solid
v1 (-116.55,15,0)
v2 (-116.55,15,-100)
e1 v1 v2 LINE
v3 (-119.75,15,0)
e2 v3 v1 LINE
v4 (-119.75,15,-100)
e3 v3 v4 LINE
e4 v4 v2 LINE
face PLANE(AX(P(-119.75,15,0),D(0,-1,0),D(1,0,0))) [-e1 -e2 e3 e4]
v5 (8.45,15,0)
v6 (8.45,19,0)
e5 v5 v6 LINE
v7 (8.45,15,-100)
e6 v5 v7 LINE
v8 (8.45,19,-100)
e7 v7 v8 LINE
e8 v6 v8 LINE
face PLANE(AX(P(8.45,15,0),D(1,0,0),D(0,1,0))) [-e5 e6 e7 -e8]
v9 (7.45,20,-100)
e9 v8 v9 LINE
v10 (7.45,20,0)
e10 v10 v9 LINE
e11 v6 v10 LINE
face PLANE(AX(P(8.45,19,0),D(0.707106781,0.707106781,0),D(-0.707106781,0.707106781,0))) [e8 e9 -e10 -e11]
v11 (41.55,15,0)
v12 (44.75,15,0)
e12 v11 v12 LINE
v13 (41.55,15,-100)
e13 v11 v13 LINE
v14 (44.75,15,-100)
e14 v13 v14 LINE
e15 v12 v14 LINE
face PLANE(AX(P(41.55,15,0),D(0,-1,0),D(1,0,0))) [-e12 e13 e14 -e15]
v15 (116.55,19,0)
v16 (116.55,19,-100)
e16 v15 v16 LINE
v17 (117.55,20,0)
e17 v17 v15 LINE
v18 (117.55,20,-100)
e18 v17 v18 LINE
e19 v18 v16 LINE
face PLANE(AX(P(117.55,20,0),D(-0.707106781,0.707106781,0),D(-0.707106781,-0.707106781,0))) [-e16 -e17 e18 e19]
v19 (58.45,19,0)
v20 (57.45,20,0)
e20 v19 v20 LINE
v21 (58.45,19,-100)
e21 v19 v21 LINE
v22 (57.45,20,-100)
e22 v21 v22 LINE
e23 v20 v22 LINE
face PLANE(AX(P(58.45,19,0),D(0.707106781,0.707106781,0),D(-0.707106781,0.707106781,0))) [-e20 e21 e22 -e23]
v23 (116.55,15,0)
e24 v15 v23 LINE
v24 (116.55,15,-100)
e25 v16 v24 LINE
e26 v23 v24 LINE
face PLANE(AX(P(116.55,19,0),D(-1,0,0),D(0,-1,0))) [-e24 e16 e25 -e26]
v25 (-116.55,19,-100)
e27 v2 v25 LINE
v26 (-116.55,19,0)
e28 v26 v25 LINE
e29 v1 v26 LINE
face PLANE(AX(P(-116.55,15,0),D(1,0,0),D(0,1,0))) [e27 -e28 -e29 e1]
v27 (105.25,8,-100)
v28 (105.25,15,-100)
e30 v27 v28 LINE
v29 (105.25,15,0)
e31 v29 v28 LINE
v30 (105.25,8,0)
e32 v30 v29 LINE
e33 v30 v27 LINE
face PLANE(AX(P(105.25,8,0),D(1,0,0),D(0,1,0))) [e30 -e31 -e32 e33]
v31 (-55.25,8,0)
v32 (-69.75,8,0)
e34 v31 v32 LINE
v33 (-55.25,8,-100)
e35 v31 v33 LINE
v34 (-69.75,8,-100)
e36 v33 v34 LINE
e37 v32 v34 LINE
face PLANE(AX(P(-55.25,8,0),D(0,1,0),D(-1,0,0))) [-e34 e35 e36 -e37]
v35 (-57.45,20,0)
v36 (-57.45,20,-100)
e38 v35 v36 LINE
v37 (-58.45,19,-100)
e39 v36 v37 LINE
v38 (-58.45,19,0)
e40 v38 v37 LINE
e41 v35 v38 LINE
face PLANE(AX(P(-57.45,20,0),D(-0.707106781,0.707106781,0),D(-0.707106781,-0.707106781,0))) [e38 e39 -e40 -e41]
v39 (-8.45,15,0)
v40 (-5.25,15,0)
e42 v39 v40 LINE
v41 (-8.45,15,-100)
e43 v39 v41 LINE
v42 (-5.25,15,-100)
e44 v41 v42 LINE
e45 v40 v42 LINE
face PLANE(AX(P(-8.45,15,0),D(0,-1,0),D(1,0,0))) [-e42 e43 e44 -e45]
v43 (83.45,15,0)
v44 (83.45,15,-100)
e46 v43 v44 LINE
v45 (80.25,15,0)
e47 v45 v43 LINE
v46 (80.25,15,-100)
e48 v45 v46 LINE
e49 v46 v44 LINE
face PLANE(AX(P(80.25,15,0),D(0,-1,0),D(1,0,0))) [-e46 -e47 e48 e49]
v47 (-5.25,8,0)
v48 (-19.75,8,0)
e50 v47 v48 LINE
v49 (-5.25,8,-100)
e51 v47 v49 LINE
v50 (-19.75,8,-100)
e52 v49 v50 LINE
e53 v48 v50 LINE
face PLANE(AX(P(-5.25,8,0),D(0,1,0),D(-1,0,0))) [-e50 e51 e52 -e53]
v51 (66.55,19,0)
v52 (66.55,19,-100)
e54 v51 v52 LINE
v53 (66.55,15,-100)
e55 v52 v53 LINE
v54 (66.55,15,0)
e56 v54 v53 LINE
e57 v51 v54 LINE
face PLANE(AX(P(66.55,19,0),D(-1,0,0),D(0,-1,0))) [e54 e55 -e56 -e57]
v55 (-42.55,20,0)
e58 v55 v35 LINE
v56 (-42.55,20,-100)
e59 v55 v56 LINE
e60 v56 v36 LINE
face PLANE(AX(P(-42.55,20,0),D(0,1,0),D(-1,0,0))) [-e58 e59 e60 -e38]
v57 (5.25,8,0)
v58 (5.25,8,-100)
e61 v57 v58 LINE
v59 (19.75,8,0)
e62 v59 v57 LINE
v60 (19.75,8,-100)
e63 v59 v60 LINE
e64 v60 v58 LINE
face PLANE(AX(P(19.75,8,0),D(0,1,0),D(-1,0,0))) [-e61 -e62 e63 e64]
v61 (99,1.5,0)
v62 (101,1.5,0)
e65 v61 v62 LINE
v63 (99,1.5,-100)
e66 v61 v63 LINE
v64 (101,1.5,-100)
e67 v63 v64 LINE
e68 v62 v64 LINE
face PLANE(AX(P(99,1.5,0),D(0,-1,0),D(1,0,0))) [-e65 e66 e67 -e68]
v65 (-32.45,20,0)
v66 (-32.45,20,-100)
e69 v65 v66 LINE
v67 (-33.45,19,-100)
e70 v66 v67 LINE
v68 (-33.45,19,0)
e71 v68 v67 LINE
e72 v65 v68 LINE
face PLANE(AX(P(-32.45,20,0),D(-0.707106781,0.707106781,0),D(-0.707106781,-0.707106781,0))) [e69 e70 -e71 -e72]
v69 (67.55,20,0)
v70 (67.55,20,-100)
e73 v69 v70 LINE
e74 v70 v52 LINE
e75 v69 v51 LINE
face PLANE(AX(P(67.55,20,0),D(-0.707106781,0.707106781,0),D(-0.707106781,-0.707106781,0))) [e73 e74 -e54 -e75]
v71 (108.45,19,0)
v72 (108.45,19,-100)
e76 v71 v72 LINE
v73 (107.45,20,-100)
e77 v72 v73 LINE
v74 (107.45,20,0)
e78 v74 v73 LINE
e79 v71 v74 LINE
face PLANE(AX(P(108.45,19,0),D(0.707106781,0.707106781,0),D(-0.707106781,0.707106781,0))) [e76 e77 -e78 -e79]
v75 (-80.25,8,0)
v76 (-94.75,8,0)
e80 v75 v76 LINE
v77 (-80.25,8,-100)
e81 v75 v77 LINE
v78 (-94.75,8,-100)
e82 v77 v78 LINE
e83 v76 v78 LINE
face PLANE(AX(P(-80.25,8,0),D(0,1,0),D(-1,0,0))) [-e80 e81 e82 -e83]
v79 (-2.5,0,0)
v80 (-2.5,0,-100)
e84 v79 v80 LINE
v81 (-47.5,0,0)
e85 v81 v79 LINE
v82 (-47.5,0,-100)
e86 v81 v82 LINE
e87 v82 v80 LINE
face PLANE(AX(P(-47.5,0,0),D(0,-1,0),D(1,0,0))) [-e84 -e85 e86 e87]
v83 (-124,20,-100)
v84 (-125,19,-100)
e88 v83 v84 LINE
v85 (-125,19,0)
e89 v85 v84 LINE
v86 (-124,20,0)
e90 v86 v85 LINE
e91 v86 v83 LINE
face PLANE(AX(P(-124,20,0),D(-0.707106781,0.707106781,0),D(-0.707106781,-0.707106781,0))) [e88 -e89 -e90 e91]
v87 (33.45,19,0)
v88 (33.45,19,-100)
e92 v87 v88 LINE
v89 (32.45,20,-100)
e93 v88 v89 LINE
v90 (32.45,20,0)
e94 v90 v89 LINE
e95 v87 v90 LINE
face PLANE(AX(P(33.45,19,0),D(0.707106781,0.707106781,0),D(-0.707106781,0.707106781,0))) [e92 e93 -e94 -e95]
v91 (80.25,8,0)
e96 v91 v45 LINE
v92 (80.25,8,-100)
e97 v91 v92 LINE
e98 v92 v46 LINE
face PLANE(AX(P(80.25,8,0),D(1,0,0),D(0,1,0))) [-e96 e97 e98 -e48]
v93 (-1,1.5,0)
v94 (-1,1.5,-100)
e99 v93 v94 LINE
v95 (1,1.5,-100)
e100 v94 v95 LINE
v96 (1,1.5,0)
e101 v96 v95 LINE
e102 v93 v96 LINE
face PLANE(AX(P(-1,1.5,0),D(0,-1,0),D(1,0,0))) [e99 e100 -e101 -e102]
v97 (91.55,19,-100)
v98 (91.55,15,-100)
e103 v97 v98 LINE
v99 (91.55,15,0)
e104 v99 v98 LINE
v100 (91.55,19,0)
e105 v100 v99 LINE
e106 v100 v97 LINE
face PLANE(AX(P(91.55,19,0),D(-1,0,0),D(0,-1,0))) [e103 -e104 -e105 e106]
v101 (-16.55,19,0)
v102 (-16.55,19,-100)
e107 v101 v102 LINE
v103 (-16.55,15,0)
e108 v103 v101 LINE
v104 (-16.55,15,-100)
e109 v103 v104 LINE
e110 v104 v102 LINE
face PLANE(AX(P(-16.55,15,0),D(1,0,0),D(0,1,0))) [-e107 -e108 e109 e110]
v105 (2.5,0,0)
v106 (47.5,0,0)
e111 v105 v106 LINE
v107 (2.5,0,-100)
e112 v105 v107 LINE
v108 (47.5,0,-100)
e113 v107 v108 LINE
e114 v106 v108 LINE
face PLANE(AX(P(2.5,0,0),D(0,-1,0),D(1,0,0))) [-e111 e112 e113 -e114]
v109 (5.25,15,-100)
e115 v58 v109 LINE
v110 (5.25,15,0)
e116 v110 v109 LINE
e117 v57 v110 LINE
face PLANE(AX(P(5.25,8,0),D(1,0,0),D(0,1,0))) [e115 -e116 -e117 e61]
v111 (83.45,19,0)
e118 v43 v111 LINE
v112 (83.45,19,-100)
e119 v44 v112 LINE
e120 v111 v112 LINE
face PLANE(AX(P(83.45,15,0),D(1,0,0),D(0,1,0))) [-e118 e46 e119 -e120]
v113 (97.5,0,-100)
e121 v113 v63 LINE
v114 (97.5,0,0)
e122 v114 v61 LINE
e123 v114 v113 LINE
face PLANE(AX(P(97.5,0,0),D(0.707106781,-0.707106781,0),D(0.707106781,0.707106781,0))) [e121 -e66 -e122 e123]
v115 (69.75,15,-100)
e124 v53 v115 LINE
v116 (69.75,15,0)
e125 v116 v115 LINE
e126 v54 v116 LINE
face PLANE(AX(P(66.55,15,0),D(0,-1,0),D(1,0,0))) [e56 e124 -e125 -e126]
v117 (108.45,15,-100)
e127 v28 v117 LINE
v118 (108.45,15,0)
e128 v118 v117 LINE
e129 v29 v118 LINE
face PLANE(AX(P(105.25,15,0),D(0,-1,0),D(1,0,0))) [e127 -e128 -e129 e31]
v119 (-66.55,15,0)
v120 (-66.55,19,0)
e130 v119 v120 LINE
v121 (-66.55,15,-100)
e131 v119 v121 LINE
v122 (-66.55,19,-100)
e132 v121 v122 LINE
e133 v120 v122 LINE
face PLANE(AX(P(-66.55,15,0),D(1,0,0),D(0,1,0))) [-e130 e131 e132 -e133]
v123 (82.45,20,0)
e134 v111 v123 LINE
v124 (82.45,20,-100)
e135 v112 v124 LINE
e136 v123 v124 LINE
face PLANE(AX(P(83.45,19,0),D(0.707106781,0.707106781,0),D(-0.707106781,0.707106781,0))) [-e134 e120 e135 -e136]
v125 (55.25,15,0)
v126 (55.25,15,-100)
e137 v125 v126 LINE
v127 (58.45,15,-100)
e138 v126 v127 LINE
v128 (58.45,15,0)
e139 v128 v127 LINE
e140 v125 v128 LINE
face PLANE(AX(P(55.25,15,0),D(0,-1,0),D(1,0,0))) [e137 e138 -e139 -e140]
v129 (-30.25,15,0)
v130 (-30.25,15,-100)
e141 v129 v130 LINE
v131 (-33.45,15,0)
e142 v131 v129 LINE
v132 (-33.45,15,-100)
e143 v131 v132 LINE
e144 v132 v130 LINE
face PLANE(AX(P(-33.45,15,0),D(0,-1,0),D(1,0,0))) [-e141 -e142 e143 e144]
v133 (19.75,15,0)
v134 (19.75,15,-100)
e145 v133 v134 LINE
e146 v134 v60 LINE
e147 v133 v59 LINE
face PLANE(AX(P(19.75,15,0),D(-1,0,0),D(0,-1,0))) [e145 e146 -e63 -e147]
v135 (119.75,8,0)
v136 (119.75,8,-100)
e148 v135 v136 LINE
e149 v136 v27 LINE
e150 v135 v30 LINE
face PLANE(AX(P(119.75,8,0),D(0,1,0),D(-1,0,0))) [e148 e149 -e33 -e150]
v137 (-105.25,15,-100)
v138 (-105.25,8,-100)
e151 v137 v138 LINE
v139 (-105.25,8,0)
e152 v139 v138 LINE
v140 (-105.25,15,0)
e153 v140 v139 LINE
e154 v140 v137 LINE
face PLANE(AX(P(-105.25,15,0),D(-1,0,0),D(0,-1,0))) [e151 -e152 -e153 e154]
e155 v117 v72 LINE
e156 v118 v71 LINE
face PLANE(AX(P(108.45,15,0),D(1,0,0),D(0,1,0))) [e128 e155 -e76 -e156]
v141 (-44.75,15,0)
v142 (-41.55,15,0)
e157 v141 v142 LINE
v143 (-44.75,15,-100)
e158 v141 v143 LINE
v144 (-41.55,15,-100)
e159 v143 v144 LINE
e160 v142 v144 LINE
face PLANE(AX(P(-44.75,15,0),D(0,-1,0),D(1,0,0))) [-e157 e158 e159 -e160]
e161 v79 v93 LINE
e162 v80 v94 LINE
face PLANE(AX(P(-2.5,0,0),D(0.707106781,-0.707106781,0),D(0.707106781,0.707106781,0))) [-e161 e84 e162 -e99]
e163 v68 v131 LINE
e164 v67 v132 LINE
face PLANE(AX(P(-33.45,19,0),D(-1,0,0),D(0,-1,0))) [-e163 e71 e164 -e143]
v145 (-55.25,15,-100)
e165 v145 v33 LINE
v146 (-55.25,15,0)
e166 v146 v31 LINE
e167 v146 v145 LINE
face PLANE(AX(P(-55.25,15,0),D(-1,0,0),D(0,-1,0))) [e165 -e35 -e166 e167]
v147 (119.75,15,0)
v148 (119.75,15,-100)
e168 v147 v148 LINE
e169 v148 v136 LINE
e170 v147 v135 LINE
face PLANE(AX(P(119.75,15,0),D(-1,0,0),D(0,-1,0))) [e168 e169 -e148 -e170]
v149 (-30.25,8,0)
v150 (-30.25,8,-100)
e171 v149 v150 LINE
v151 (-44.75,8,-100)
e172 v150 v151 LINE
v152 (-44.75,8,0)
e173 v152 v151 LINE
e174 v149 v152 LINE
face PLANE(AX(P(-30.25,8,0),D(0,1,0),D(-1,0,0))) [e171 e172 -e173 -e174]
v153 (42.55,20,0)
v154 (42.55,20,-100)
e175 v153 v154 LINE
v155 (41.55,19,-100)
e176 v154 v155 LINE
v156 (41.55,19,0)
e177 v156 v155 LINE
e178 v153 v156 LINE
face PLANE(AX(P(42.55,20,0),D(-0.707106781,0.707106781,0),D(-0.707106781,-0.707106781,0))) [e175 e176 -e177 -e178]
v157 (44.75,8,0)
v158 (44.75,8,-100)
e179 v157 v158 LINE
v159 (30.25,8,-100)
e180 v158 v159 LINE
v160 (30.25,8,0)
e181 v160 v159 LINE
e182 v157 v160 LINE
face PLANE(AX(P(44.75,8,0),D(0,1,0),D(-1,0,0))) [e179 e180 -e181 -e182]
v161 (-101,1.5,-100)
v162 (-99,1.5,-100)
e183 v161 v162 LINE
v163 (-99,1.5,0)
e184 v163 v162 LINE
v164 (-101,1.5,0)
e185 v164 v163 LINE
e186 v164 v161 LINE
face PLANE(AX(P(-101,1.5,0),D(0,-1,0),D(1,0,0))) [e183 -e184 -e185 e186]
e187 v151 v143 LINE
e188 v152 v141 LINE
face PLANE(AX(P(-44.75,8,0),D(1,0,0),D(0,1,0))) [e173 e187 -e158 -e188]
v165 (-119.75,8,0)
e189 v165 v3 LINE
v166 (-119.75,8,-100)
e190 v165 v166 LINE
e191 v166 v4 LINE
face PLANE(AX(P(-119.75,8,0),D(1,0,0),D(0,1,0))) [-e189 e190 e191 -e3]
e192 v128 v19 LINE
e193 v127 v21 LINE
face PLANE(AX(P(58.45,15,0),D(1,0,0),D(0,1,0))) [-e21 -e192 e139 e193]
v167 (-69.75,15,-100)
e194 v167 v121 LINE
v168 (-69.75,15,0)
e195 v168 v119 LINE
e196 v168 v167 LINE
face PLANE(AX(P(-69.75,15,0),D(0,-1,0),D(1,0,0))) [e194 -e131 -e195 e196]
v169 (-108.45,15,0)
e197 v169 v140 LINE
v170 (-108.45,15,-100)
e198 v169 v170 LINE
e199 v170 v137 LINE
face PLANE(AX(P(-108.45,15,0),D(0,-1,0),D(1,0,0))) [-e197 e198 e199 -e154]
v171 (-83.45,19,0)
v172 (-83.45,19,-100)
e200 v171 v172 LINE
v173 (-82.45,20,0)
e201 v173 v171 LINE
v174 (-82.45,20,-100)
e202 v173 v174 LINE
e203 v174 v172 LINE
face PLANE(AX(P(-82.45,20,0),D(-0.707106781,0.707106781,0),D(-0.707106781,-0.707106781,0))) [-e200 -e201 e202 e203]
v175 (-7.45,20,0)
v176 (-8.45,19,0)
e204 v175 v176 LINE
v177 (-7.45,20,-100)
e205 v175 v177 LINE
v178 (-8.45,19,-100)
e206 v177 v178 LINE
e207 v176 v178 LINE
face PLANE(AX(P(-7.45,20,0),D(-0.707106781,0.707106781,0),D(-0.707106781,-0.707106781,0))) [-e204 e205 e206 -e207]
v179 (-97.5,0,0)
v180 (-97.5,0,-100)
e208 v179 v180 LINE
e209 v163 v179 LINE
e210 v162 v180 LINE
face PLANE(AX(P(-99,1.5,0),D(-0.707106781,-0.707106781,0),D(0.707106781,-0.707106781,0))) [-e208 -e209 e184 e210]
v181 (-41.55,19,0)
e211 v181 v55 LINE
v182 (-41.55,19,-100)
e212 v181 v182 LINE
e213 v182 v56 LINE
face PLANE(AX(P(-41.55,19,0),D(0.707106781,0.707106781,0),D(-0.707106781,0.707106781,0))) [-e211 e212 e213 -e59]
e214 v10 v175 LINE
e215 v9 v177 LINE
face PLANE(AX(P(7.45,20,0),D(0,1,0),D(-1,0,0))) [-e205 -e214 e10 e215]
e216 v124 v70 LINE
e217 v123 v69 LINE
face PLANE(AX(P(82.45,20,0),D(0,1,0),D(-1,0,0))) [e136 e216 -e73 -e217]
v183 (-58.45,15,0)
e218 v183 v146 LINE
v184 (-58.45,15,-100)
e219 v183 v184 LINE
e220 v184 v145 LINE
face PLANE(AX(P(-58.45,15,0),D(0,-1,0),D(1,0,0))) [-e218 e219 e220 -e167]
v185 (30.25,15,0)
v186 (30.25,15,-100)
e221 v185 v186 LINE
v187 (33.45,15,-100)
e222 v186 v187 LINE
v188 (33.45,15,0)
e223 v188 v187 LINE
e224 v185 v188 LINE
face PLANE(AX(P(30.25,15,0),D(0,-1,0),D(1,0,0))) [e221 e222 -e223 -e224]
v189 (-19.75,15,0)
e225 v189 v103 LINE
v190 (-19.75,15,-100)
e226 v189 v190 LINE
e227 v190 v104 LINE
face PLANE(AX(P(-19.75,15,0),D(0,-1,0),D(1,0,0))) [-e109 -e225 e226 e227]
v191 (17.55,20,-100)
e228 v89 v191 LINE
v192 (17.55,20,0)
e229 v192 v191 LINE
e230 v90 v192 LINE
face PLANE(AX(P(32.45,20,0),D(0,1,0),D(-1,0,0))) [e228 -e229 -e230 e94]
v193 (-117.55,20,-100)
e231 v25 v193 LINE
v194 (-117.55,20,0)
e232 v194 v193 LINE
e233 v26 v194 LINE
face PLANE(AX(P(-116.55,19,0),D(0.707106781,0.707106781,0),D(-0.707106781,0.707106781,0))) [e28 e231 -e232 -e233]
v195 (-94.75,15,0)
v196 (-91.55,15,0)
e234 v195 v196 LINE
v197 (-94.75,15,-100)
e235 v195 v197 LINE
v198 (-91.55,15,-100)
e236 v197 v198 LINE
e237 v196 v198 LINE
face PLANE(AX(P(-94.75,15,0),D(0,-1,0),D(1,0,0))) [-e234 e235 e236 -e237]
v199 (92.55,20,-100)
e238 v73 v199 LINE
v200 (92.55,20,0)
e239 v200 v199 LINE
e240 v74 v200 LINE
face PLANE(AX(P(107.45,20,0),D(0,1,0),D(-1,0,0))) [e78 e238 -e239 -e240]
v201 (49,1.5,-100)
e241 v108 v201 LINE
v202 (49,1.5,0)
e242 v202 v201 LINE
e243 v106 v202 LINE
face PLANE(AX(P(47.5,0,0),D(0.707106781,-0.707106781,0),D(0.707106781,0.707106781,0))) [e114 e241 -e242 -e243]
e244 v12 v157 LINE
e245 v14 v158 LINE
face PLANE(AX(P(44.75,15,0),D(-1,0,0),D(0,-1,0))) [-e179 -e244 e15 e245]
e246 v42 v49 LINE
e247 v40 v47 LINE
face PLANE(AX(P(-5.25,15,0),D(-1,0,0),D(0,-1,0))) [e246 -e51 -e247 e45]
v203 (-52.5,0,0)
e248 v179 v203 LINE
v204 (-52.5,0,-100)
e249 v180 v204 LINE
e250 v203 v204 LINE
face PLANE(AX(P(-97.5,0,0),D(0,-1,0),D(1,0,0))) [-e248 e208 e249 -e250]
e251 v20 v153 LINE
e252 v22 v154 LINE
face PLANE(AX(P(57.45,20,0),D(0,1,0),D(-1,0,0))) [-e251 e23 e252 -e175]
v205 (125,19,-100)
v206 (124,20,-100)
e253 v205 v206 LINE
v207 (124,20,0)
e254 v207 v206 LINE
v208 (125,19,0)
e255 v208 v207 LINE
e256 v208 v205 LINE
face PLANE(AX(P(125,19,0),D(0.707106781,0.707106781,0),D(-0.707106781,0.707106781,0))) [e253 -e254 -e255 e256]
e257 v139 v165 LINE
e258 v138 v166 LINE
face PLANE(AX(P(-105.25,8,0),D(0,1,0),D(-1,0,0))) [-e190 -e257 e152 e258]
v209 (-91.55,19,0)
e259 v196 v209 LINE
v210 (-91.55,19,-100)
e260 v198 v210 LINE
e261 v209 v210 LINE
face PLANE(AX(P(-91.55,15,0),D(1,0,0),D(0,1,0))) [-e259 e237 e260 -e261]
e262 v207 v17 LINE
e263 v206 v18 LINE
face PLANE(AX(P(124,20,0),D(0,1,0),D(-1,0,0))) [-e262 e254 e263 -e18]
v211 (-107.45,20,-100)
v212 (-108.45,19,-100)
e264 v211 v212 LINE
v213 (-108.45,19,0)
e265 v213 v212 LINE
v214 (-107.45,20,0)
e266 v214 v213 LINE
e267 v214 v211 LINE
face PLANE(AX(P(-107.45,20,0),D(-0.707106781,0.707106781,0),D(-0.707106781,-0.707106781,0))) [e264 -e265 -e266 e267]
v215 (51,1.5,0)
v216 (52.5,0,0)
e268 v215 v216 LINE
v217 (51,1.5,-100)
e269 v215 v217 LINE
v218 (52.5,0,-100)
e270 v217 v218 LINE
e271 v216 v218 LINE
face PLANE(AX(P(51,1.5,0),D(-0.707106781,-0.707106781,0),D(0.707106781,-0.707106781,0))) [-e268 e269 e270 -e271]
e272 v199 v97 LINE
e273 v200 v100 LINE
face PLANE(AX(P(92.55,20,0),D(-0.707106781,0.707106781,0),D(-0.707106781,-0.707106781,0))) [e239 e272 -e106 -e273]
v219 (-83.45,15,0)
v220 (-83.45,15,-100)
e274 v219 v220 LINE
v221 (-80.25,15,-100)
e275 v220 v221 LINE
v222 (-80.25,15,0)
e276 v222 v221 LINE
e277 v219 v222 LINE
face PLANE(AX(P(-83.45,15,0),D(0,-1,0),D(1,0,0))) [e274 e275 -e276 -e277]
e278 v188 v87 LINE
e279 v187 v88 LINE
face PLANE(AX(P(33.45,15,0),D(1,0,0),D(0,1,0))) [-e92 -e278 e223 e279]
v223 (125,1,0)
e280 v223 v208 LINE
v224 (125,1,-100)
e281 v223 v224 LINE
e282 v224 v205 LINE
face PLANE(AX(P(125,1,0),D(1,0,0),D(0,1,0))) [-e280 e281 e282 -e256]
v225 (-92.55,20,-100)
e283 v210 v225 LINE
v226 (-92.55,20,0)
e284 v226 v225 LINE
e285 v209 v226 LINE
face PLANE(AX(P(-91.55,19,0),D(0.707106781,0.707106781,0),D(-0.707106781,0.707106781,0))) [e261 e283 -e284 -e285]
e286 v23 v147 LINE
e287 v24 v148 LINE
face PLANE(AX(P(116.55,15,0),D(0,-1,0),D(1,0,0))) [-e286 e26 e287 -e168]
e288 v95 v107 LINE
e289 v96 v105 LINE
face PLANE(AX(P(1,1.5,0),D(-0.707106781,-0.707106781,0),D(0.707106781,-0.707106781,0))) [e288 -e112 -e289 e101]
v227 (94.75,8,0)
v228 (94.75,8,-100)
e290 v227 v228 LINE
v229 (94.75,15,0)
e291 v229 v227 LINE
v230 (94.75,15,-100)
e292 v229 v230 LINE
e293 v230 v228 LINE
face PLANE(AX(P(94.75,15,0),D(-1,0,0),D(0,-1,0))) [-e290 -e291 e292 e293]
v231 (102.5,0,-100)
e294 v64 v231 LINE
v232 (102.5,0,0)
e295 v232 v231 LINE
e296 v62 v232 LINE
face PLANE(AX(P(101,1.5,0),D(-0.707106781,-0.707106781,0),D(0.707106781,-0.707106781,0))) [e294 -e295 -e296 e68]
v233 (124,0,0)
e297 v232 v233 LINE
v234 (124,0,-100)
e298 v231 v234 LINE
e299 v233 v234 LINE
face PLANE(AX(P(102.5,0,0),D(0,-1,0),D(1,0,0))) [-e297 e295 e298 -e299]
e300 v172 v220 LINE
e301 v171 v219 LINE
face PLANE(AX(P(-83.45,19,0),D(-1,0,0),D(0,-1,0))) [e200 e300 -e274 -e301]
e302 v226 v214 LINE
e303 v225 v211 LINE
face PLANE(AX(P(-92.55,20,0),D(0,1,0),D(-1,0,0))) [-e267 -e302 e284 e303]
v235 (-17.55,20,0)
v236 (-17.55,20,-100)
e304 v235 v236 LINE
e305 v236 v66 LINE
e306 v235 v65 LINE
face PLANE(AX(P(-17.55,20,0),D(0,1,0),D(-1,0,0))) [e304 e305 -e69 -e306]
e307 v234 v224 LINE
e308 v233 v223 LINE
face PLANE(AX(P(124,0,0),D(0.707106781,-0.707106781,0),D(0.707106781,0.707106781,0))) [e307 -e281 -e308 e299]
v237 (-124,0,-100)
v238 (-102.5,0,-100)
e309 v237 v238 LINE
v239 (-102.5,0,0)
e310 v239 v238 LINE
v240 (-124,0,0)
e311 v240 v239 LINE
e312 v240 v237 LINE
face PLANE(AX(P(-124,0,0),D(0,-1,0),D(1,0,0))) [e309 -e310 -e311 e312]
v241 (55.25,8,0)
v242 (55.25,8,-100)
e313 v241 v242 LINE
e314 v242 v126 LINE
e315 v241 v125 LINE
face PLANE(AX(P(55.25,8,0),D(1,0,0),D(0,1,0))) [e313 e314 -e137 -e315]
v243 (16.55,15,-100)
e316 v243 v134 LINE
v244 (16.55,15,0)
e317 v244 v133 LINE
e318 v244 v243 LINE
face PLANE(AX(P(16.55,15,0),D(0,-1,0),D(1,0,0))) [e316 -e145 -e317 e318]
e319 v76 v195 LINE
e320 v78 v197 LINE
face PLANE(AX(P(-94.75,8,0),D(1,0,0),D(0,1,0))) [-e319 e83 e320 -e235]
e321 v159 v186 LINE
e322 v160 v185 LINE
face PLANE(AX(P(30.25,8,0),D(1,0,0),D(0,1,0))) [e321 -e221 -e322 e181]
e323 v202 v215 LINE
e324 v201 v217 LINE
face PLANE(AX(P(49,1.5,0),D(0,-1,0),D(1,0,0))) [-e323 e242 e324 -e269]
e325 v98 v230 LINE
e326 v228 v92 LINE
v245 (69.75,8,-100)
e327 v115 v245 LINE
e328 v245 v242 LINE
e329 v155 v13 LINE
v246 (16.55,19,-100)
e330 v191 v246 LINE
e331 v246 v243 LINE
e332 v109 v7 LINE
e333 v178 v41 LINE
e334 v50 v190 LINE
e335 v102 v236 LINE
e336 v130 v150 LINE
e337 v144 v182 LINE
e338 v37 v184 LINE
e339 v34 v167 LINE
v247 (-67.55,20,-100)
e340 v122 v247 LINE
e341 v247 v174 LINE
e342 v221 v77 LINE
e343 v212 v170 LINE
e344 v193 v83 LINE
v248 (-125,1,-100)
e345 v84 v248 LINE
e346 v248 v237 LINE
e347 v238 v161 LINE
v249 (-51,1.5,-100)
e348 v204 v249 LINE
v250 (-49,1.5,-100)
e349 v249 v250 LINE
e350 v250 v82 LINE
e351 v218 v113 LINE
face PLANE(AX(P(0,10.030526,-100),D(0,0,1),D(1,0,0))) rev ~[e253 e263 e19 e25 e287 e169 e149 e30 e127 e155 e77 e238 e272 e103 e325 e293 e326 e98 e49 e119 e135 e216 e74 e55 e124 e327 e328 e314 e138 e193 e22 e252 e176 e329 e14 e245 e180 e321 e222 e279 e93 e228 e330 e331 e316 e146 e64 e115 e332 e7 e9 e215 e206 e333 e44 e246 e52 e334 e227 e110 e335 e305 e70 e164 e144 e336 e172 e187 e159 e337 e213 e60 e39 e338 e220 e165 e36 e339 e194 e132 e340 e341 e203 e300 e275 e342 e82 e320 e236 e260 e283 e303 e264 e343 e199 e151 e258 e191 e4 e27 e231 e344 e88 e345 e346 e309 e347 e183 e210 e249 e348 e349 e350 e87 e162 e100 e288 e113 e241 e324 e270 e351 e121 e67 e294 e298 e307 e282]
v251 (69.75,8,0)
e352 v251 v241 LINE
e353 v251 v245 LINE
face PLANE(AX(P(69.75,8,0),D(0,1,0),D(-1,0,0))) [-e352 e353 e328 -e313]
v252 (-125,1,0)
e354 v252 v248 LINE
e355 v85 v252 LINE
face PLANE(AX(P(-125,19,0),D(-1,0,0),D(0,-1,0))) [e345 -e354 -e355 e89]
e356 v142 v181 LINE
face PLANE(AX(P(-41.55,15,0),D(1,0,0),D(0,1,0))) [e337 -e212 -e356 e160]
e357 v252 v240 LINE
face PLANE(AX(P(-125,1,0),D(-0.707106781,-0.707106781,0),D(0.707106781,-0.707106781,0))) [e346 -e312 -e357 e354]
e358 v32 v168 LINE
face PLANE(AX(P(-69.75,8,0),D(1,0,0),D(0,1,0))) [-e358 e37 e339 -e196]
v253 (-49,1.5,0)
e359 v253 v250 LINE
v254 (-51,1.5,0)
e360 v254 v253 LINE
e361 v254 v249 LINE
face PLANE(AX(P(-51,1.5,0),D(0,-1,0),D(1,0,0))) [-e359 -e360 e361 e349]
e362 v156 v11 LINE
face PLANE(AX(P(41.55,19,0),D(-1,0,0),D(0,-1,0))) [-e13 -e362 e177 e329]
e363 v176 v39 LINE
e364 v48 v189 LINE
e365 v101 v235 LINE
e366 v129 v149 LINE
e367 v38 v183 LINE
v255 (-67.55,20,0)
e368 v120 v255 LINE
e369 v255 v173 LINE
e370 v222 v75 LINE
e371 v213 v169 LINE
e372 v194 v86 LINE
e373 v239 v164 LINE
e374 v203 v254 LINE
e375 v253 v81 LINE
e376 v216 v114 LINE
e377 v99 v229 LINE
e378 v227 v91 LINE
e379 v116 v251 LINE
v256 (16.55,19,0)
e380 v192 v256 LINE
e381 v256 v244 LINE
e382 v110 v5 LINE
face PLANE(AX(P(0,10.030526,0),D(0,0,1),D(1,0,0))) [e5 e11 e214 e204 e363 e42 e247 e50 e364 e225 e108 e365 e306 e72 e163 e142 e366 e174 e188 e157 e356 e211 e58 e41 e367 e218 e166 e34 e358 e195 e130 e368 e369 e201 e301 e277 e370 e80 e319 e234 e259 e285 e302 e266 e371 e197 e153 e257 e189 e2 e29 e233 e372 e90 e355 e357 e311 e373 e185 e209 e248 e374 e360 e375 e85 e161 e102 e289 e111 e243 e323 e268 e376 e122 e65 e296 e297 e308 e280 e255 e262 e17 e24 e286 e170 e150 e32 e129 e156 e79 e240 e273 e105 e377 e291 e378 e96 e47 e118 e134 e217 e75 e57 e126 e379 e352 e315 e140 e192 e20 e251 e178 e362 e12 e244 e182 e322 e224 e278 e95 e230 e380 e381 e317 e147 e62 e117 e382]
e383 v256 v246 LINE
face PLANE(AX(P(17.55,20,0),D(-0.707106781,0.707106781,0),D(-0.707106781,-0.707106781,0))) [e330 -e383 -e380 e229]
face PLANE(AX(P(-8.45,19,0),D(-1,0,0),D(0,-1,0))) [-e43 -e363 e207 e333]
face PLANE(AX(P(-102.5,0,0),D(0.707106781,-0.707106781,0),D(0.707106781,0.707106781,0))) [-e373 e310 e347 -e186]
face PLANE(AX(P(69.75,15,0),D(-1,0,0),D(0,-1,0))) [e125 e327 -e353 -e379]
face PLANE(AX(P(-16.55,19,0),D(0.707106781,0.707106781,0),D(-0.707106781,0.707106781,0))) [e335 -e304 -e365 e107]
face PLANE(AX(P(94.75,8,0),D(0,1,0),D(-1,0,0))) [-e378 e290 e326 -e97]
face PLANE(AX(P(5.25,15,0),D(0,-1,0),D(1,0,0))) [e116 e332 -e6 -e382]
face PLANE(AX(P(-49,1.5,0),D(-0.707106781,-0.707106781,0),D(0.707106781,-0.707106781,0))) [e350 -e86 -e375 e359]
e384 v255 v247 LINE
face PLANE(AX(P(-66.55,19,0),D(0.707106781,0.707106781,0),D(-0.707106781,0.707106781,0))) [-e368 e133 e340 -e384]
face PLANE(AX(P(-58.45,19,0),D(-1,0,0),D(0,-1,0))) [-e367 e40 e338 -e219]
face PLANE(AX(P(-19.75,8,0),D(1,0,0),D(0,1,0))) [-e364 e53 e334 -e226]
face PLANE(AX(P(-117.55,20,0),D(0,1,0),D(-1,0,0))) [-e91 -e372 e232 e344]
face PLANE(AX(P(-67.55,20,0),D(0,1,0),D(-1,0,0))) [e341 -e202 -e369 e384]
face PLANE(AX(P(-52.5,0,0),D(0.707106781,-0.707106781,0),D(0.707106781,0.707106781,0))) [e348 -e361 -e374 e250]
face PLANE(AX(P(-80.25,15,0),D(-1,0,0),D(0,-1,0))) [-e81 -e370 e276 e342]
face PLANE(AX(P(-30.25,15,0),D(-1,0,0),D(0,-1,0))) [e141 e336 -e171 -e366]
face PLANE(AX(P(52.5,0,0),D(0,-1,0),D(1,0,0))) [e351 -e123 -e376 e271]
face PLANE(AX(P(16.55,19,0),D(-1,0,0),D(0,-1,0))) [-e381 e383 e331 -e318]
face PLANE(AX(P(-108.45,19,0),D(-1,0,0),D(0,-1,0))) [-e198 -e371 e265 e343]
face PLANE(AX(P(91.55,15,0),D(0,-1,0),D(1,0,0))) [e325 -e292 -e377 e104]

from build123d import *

# Parameters (mm, degrees)
EXTRUDE_1_DEPTH = 100


with BuildPart() as part:
    # Эскиз1 → Бобышка-Вытянуть1 (new body)
    with BuildSketch(Plane.XY):
        Polygon((-52.5, 0), (-51, 1.5), (-49, 1.5), (-47.5, 0), (-2.5, 0), (-1, 1.5), (1, 1.5), (2.5, 0), (47.5, 0), (49, 1.5), (51, 1.5), (52.5, 0), (97.5, 0), (99, 1.5), (101, 1.5), (102.5, 0), (124, 0), (125, 1), (125, 19), (124, 20), (117.55, 20), (116.55, 19), (116.55, 15), (119.75, 15), (119.75, 8), (105.25, 8), (105.25, 15), (108.45, 15), (108.45, 19), (107.45, 20), (92.55, 20), (91.55, 19), (91.55, 15), (94.75, 15), (94.75, 8), (80.25, 8), (80.25, 15), (83.45, 15), (83.45, 19), (82.45, 20), (67.55, 20), (66.55, 19), (66.55, 15), (69.75, 15), (69.75, 8), (55.25, 8), (55.25, 15), (58.45, 15), (58.45, 19), (57.45, 20), (42.55, 20), (41.55, 19), (41.55, 15), (44.75, 15), (44.75, 8), (30.25, 8), (30.25, 15), (33.45, 15), (33.45, 19), (32.45, 20), (17.55, 20), (16.55, 19), (16.55, 15), (19.75, 15), (19.75, 8), (5.25, 8), (5.25, 15), (8.45, 15), (8.45, 19), (7.45, 20), (-7.45, 20), (-8.45, 19), (-8.45, 15), (-5.25, 15), (-5.25, 8), (-19.75, 8), (-19.75, 15), (-16.55, 15), (-16.55, 19), (-17.55, 20), (-32.45, 20), (-33.45, 19), (-33.45, 15), (-30.25, 15), (-30.25, 8), (-44.75, 8), (-44.75, 15), (-41.55, 15), (-41.55, 19), (-42.55, 20), (-57.45, 20), (-58.45, 19), (-58.45, 15), (-55.25, 15), (-55.25, 8), (-69.75, 8), (-69.75, 15), (-66.55, 15), (-66.55, 19), (-67.55, 20), (-82.45, 20), (-83.45, 19), (-83.45, 15), (-80.25, 15), (-80.25, 8), (-94.75, 8), (-94.75, 15), (-91.55, 15), (-91.55, 19), (-92.55, 20), (-107.45, 20), (-108.45, 19), (-108.45, 15), (-105.25, 15), (-105.25, 8), (-119.75, 8), (-119.75, 15), (-116.55, 15), (-116.55, 19), (-117.55, 20), (-124, 20), (-125, 19), (-125, 1), (-124, 0), (-102.5, 0), (-101, 1.5), (-99, 1.5), (-97.5, 0), align=None)
    extrude(amount=-EXTRUDE_1_DEPTH)


solid = part.part
